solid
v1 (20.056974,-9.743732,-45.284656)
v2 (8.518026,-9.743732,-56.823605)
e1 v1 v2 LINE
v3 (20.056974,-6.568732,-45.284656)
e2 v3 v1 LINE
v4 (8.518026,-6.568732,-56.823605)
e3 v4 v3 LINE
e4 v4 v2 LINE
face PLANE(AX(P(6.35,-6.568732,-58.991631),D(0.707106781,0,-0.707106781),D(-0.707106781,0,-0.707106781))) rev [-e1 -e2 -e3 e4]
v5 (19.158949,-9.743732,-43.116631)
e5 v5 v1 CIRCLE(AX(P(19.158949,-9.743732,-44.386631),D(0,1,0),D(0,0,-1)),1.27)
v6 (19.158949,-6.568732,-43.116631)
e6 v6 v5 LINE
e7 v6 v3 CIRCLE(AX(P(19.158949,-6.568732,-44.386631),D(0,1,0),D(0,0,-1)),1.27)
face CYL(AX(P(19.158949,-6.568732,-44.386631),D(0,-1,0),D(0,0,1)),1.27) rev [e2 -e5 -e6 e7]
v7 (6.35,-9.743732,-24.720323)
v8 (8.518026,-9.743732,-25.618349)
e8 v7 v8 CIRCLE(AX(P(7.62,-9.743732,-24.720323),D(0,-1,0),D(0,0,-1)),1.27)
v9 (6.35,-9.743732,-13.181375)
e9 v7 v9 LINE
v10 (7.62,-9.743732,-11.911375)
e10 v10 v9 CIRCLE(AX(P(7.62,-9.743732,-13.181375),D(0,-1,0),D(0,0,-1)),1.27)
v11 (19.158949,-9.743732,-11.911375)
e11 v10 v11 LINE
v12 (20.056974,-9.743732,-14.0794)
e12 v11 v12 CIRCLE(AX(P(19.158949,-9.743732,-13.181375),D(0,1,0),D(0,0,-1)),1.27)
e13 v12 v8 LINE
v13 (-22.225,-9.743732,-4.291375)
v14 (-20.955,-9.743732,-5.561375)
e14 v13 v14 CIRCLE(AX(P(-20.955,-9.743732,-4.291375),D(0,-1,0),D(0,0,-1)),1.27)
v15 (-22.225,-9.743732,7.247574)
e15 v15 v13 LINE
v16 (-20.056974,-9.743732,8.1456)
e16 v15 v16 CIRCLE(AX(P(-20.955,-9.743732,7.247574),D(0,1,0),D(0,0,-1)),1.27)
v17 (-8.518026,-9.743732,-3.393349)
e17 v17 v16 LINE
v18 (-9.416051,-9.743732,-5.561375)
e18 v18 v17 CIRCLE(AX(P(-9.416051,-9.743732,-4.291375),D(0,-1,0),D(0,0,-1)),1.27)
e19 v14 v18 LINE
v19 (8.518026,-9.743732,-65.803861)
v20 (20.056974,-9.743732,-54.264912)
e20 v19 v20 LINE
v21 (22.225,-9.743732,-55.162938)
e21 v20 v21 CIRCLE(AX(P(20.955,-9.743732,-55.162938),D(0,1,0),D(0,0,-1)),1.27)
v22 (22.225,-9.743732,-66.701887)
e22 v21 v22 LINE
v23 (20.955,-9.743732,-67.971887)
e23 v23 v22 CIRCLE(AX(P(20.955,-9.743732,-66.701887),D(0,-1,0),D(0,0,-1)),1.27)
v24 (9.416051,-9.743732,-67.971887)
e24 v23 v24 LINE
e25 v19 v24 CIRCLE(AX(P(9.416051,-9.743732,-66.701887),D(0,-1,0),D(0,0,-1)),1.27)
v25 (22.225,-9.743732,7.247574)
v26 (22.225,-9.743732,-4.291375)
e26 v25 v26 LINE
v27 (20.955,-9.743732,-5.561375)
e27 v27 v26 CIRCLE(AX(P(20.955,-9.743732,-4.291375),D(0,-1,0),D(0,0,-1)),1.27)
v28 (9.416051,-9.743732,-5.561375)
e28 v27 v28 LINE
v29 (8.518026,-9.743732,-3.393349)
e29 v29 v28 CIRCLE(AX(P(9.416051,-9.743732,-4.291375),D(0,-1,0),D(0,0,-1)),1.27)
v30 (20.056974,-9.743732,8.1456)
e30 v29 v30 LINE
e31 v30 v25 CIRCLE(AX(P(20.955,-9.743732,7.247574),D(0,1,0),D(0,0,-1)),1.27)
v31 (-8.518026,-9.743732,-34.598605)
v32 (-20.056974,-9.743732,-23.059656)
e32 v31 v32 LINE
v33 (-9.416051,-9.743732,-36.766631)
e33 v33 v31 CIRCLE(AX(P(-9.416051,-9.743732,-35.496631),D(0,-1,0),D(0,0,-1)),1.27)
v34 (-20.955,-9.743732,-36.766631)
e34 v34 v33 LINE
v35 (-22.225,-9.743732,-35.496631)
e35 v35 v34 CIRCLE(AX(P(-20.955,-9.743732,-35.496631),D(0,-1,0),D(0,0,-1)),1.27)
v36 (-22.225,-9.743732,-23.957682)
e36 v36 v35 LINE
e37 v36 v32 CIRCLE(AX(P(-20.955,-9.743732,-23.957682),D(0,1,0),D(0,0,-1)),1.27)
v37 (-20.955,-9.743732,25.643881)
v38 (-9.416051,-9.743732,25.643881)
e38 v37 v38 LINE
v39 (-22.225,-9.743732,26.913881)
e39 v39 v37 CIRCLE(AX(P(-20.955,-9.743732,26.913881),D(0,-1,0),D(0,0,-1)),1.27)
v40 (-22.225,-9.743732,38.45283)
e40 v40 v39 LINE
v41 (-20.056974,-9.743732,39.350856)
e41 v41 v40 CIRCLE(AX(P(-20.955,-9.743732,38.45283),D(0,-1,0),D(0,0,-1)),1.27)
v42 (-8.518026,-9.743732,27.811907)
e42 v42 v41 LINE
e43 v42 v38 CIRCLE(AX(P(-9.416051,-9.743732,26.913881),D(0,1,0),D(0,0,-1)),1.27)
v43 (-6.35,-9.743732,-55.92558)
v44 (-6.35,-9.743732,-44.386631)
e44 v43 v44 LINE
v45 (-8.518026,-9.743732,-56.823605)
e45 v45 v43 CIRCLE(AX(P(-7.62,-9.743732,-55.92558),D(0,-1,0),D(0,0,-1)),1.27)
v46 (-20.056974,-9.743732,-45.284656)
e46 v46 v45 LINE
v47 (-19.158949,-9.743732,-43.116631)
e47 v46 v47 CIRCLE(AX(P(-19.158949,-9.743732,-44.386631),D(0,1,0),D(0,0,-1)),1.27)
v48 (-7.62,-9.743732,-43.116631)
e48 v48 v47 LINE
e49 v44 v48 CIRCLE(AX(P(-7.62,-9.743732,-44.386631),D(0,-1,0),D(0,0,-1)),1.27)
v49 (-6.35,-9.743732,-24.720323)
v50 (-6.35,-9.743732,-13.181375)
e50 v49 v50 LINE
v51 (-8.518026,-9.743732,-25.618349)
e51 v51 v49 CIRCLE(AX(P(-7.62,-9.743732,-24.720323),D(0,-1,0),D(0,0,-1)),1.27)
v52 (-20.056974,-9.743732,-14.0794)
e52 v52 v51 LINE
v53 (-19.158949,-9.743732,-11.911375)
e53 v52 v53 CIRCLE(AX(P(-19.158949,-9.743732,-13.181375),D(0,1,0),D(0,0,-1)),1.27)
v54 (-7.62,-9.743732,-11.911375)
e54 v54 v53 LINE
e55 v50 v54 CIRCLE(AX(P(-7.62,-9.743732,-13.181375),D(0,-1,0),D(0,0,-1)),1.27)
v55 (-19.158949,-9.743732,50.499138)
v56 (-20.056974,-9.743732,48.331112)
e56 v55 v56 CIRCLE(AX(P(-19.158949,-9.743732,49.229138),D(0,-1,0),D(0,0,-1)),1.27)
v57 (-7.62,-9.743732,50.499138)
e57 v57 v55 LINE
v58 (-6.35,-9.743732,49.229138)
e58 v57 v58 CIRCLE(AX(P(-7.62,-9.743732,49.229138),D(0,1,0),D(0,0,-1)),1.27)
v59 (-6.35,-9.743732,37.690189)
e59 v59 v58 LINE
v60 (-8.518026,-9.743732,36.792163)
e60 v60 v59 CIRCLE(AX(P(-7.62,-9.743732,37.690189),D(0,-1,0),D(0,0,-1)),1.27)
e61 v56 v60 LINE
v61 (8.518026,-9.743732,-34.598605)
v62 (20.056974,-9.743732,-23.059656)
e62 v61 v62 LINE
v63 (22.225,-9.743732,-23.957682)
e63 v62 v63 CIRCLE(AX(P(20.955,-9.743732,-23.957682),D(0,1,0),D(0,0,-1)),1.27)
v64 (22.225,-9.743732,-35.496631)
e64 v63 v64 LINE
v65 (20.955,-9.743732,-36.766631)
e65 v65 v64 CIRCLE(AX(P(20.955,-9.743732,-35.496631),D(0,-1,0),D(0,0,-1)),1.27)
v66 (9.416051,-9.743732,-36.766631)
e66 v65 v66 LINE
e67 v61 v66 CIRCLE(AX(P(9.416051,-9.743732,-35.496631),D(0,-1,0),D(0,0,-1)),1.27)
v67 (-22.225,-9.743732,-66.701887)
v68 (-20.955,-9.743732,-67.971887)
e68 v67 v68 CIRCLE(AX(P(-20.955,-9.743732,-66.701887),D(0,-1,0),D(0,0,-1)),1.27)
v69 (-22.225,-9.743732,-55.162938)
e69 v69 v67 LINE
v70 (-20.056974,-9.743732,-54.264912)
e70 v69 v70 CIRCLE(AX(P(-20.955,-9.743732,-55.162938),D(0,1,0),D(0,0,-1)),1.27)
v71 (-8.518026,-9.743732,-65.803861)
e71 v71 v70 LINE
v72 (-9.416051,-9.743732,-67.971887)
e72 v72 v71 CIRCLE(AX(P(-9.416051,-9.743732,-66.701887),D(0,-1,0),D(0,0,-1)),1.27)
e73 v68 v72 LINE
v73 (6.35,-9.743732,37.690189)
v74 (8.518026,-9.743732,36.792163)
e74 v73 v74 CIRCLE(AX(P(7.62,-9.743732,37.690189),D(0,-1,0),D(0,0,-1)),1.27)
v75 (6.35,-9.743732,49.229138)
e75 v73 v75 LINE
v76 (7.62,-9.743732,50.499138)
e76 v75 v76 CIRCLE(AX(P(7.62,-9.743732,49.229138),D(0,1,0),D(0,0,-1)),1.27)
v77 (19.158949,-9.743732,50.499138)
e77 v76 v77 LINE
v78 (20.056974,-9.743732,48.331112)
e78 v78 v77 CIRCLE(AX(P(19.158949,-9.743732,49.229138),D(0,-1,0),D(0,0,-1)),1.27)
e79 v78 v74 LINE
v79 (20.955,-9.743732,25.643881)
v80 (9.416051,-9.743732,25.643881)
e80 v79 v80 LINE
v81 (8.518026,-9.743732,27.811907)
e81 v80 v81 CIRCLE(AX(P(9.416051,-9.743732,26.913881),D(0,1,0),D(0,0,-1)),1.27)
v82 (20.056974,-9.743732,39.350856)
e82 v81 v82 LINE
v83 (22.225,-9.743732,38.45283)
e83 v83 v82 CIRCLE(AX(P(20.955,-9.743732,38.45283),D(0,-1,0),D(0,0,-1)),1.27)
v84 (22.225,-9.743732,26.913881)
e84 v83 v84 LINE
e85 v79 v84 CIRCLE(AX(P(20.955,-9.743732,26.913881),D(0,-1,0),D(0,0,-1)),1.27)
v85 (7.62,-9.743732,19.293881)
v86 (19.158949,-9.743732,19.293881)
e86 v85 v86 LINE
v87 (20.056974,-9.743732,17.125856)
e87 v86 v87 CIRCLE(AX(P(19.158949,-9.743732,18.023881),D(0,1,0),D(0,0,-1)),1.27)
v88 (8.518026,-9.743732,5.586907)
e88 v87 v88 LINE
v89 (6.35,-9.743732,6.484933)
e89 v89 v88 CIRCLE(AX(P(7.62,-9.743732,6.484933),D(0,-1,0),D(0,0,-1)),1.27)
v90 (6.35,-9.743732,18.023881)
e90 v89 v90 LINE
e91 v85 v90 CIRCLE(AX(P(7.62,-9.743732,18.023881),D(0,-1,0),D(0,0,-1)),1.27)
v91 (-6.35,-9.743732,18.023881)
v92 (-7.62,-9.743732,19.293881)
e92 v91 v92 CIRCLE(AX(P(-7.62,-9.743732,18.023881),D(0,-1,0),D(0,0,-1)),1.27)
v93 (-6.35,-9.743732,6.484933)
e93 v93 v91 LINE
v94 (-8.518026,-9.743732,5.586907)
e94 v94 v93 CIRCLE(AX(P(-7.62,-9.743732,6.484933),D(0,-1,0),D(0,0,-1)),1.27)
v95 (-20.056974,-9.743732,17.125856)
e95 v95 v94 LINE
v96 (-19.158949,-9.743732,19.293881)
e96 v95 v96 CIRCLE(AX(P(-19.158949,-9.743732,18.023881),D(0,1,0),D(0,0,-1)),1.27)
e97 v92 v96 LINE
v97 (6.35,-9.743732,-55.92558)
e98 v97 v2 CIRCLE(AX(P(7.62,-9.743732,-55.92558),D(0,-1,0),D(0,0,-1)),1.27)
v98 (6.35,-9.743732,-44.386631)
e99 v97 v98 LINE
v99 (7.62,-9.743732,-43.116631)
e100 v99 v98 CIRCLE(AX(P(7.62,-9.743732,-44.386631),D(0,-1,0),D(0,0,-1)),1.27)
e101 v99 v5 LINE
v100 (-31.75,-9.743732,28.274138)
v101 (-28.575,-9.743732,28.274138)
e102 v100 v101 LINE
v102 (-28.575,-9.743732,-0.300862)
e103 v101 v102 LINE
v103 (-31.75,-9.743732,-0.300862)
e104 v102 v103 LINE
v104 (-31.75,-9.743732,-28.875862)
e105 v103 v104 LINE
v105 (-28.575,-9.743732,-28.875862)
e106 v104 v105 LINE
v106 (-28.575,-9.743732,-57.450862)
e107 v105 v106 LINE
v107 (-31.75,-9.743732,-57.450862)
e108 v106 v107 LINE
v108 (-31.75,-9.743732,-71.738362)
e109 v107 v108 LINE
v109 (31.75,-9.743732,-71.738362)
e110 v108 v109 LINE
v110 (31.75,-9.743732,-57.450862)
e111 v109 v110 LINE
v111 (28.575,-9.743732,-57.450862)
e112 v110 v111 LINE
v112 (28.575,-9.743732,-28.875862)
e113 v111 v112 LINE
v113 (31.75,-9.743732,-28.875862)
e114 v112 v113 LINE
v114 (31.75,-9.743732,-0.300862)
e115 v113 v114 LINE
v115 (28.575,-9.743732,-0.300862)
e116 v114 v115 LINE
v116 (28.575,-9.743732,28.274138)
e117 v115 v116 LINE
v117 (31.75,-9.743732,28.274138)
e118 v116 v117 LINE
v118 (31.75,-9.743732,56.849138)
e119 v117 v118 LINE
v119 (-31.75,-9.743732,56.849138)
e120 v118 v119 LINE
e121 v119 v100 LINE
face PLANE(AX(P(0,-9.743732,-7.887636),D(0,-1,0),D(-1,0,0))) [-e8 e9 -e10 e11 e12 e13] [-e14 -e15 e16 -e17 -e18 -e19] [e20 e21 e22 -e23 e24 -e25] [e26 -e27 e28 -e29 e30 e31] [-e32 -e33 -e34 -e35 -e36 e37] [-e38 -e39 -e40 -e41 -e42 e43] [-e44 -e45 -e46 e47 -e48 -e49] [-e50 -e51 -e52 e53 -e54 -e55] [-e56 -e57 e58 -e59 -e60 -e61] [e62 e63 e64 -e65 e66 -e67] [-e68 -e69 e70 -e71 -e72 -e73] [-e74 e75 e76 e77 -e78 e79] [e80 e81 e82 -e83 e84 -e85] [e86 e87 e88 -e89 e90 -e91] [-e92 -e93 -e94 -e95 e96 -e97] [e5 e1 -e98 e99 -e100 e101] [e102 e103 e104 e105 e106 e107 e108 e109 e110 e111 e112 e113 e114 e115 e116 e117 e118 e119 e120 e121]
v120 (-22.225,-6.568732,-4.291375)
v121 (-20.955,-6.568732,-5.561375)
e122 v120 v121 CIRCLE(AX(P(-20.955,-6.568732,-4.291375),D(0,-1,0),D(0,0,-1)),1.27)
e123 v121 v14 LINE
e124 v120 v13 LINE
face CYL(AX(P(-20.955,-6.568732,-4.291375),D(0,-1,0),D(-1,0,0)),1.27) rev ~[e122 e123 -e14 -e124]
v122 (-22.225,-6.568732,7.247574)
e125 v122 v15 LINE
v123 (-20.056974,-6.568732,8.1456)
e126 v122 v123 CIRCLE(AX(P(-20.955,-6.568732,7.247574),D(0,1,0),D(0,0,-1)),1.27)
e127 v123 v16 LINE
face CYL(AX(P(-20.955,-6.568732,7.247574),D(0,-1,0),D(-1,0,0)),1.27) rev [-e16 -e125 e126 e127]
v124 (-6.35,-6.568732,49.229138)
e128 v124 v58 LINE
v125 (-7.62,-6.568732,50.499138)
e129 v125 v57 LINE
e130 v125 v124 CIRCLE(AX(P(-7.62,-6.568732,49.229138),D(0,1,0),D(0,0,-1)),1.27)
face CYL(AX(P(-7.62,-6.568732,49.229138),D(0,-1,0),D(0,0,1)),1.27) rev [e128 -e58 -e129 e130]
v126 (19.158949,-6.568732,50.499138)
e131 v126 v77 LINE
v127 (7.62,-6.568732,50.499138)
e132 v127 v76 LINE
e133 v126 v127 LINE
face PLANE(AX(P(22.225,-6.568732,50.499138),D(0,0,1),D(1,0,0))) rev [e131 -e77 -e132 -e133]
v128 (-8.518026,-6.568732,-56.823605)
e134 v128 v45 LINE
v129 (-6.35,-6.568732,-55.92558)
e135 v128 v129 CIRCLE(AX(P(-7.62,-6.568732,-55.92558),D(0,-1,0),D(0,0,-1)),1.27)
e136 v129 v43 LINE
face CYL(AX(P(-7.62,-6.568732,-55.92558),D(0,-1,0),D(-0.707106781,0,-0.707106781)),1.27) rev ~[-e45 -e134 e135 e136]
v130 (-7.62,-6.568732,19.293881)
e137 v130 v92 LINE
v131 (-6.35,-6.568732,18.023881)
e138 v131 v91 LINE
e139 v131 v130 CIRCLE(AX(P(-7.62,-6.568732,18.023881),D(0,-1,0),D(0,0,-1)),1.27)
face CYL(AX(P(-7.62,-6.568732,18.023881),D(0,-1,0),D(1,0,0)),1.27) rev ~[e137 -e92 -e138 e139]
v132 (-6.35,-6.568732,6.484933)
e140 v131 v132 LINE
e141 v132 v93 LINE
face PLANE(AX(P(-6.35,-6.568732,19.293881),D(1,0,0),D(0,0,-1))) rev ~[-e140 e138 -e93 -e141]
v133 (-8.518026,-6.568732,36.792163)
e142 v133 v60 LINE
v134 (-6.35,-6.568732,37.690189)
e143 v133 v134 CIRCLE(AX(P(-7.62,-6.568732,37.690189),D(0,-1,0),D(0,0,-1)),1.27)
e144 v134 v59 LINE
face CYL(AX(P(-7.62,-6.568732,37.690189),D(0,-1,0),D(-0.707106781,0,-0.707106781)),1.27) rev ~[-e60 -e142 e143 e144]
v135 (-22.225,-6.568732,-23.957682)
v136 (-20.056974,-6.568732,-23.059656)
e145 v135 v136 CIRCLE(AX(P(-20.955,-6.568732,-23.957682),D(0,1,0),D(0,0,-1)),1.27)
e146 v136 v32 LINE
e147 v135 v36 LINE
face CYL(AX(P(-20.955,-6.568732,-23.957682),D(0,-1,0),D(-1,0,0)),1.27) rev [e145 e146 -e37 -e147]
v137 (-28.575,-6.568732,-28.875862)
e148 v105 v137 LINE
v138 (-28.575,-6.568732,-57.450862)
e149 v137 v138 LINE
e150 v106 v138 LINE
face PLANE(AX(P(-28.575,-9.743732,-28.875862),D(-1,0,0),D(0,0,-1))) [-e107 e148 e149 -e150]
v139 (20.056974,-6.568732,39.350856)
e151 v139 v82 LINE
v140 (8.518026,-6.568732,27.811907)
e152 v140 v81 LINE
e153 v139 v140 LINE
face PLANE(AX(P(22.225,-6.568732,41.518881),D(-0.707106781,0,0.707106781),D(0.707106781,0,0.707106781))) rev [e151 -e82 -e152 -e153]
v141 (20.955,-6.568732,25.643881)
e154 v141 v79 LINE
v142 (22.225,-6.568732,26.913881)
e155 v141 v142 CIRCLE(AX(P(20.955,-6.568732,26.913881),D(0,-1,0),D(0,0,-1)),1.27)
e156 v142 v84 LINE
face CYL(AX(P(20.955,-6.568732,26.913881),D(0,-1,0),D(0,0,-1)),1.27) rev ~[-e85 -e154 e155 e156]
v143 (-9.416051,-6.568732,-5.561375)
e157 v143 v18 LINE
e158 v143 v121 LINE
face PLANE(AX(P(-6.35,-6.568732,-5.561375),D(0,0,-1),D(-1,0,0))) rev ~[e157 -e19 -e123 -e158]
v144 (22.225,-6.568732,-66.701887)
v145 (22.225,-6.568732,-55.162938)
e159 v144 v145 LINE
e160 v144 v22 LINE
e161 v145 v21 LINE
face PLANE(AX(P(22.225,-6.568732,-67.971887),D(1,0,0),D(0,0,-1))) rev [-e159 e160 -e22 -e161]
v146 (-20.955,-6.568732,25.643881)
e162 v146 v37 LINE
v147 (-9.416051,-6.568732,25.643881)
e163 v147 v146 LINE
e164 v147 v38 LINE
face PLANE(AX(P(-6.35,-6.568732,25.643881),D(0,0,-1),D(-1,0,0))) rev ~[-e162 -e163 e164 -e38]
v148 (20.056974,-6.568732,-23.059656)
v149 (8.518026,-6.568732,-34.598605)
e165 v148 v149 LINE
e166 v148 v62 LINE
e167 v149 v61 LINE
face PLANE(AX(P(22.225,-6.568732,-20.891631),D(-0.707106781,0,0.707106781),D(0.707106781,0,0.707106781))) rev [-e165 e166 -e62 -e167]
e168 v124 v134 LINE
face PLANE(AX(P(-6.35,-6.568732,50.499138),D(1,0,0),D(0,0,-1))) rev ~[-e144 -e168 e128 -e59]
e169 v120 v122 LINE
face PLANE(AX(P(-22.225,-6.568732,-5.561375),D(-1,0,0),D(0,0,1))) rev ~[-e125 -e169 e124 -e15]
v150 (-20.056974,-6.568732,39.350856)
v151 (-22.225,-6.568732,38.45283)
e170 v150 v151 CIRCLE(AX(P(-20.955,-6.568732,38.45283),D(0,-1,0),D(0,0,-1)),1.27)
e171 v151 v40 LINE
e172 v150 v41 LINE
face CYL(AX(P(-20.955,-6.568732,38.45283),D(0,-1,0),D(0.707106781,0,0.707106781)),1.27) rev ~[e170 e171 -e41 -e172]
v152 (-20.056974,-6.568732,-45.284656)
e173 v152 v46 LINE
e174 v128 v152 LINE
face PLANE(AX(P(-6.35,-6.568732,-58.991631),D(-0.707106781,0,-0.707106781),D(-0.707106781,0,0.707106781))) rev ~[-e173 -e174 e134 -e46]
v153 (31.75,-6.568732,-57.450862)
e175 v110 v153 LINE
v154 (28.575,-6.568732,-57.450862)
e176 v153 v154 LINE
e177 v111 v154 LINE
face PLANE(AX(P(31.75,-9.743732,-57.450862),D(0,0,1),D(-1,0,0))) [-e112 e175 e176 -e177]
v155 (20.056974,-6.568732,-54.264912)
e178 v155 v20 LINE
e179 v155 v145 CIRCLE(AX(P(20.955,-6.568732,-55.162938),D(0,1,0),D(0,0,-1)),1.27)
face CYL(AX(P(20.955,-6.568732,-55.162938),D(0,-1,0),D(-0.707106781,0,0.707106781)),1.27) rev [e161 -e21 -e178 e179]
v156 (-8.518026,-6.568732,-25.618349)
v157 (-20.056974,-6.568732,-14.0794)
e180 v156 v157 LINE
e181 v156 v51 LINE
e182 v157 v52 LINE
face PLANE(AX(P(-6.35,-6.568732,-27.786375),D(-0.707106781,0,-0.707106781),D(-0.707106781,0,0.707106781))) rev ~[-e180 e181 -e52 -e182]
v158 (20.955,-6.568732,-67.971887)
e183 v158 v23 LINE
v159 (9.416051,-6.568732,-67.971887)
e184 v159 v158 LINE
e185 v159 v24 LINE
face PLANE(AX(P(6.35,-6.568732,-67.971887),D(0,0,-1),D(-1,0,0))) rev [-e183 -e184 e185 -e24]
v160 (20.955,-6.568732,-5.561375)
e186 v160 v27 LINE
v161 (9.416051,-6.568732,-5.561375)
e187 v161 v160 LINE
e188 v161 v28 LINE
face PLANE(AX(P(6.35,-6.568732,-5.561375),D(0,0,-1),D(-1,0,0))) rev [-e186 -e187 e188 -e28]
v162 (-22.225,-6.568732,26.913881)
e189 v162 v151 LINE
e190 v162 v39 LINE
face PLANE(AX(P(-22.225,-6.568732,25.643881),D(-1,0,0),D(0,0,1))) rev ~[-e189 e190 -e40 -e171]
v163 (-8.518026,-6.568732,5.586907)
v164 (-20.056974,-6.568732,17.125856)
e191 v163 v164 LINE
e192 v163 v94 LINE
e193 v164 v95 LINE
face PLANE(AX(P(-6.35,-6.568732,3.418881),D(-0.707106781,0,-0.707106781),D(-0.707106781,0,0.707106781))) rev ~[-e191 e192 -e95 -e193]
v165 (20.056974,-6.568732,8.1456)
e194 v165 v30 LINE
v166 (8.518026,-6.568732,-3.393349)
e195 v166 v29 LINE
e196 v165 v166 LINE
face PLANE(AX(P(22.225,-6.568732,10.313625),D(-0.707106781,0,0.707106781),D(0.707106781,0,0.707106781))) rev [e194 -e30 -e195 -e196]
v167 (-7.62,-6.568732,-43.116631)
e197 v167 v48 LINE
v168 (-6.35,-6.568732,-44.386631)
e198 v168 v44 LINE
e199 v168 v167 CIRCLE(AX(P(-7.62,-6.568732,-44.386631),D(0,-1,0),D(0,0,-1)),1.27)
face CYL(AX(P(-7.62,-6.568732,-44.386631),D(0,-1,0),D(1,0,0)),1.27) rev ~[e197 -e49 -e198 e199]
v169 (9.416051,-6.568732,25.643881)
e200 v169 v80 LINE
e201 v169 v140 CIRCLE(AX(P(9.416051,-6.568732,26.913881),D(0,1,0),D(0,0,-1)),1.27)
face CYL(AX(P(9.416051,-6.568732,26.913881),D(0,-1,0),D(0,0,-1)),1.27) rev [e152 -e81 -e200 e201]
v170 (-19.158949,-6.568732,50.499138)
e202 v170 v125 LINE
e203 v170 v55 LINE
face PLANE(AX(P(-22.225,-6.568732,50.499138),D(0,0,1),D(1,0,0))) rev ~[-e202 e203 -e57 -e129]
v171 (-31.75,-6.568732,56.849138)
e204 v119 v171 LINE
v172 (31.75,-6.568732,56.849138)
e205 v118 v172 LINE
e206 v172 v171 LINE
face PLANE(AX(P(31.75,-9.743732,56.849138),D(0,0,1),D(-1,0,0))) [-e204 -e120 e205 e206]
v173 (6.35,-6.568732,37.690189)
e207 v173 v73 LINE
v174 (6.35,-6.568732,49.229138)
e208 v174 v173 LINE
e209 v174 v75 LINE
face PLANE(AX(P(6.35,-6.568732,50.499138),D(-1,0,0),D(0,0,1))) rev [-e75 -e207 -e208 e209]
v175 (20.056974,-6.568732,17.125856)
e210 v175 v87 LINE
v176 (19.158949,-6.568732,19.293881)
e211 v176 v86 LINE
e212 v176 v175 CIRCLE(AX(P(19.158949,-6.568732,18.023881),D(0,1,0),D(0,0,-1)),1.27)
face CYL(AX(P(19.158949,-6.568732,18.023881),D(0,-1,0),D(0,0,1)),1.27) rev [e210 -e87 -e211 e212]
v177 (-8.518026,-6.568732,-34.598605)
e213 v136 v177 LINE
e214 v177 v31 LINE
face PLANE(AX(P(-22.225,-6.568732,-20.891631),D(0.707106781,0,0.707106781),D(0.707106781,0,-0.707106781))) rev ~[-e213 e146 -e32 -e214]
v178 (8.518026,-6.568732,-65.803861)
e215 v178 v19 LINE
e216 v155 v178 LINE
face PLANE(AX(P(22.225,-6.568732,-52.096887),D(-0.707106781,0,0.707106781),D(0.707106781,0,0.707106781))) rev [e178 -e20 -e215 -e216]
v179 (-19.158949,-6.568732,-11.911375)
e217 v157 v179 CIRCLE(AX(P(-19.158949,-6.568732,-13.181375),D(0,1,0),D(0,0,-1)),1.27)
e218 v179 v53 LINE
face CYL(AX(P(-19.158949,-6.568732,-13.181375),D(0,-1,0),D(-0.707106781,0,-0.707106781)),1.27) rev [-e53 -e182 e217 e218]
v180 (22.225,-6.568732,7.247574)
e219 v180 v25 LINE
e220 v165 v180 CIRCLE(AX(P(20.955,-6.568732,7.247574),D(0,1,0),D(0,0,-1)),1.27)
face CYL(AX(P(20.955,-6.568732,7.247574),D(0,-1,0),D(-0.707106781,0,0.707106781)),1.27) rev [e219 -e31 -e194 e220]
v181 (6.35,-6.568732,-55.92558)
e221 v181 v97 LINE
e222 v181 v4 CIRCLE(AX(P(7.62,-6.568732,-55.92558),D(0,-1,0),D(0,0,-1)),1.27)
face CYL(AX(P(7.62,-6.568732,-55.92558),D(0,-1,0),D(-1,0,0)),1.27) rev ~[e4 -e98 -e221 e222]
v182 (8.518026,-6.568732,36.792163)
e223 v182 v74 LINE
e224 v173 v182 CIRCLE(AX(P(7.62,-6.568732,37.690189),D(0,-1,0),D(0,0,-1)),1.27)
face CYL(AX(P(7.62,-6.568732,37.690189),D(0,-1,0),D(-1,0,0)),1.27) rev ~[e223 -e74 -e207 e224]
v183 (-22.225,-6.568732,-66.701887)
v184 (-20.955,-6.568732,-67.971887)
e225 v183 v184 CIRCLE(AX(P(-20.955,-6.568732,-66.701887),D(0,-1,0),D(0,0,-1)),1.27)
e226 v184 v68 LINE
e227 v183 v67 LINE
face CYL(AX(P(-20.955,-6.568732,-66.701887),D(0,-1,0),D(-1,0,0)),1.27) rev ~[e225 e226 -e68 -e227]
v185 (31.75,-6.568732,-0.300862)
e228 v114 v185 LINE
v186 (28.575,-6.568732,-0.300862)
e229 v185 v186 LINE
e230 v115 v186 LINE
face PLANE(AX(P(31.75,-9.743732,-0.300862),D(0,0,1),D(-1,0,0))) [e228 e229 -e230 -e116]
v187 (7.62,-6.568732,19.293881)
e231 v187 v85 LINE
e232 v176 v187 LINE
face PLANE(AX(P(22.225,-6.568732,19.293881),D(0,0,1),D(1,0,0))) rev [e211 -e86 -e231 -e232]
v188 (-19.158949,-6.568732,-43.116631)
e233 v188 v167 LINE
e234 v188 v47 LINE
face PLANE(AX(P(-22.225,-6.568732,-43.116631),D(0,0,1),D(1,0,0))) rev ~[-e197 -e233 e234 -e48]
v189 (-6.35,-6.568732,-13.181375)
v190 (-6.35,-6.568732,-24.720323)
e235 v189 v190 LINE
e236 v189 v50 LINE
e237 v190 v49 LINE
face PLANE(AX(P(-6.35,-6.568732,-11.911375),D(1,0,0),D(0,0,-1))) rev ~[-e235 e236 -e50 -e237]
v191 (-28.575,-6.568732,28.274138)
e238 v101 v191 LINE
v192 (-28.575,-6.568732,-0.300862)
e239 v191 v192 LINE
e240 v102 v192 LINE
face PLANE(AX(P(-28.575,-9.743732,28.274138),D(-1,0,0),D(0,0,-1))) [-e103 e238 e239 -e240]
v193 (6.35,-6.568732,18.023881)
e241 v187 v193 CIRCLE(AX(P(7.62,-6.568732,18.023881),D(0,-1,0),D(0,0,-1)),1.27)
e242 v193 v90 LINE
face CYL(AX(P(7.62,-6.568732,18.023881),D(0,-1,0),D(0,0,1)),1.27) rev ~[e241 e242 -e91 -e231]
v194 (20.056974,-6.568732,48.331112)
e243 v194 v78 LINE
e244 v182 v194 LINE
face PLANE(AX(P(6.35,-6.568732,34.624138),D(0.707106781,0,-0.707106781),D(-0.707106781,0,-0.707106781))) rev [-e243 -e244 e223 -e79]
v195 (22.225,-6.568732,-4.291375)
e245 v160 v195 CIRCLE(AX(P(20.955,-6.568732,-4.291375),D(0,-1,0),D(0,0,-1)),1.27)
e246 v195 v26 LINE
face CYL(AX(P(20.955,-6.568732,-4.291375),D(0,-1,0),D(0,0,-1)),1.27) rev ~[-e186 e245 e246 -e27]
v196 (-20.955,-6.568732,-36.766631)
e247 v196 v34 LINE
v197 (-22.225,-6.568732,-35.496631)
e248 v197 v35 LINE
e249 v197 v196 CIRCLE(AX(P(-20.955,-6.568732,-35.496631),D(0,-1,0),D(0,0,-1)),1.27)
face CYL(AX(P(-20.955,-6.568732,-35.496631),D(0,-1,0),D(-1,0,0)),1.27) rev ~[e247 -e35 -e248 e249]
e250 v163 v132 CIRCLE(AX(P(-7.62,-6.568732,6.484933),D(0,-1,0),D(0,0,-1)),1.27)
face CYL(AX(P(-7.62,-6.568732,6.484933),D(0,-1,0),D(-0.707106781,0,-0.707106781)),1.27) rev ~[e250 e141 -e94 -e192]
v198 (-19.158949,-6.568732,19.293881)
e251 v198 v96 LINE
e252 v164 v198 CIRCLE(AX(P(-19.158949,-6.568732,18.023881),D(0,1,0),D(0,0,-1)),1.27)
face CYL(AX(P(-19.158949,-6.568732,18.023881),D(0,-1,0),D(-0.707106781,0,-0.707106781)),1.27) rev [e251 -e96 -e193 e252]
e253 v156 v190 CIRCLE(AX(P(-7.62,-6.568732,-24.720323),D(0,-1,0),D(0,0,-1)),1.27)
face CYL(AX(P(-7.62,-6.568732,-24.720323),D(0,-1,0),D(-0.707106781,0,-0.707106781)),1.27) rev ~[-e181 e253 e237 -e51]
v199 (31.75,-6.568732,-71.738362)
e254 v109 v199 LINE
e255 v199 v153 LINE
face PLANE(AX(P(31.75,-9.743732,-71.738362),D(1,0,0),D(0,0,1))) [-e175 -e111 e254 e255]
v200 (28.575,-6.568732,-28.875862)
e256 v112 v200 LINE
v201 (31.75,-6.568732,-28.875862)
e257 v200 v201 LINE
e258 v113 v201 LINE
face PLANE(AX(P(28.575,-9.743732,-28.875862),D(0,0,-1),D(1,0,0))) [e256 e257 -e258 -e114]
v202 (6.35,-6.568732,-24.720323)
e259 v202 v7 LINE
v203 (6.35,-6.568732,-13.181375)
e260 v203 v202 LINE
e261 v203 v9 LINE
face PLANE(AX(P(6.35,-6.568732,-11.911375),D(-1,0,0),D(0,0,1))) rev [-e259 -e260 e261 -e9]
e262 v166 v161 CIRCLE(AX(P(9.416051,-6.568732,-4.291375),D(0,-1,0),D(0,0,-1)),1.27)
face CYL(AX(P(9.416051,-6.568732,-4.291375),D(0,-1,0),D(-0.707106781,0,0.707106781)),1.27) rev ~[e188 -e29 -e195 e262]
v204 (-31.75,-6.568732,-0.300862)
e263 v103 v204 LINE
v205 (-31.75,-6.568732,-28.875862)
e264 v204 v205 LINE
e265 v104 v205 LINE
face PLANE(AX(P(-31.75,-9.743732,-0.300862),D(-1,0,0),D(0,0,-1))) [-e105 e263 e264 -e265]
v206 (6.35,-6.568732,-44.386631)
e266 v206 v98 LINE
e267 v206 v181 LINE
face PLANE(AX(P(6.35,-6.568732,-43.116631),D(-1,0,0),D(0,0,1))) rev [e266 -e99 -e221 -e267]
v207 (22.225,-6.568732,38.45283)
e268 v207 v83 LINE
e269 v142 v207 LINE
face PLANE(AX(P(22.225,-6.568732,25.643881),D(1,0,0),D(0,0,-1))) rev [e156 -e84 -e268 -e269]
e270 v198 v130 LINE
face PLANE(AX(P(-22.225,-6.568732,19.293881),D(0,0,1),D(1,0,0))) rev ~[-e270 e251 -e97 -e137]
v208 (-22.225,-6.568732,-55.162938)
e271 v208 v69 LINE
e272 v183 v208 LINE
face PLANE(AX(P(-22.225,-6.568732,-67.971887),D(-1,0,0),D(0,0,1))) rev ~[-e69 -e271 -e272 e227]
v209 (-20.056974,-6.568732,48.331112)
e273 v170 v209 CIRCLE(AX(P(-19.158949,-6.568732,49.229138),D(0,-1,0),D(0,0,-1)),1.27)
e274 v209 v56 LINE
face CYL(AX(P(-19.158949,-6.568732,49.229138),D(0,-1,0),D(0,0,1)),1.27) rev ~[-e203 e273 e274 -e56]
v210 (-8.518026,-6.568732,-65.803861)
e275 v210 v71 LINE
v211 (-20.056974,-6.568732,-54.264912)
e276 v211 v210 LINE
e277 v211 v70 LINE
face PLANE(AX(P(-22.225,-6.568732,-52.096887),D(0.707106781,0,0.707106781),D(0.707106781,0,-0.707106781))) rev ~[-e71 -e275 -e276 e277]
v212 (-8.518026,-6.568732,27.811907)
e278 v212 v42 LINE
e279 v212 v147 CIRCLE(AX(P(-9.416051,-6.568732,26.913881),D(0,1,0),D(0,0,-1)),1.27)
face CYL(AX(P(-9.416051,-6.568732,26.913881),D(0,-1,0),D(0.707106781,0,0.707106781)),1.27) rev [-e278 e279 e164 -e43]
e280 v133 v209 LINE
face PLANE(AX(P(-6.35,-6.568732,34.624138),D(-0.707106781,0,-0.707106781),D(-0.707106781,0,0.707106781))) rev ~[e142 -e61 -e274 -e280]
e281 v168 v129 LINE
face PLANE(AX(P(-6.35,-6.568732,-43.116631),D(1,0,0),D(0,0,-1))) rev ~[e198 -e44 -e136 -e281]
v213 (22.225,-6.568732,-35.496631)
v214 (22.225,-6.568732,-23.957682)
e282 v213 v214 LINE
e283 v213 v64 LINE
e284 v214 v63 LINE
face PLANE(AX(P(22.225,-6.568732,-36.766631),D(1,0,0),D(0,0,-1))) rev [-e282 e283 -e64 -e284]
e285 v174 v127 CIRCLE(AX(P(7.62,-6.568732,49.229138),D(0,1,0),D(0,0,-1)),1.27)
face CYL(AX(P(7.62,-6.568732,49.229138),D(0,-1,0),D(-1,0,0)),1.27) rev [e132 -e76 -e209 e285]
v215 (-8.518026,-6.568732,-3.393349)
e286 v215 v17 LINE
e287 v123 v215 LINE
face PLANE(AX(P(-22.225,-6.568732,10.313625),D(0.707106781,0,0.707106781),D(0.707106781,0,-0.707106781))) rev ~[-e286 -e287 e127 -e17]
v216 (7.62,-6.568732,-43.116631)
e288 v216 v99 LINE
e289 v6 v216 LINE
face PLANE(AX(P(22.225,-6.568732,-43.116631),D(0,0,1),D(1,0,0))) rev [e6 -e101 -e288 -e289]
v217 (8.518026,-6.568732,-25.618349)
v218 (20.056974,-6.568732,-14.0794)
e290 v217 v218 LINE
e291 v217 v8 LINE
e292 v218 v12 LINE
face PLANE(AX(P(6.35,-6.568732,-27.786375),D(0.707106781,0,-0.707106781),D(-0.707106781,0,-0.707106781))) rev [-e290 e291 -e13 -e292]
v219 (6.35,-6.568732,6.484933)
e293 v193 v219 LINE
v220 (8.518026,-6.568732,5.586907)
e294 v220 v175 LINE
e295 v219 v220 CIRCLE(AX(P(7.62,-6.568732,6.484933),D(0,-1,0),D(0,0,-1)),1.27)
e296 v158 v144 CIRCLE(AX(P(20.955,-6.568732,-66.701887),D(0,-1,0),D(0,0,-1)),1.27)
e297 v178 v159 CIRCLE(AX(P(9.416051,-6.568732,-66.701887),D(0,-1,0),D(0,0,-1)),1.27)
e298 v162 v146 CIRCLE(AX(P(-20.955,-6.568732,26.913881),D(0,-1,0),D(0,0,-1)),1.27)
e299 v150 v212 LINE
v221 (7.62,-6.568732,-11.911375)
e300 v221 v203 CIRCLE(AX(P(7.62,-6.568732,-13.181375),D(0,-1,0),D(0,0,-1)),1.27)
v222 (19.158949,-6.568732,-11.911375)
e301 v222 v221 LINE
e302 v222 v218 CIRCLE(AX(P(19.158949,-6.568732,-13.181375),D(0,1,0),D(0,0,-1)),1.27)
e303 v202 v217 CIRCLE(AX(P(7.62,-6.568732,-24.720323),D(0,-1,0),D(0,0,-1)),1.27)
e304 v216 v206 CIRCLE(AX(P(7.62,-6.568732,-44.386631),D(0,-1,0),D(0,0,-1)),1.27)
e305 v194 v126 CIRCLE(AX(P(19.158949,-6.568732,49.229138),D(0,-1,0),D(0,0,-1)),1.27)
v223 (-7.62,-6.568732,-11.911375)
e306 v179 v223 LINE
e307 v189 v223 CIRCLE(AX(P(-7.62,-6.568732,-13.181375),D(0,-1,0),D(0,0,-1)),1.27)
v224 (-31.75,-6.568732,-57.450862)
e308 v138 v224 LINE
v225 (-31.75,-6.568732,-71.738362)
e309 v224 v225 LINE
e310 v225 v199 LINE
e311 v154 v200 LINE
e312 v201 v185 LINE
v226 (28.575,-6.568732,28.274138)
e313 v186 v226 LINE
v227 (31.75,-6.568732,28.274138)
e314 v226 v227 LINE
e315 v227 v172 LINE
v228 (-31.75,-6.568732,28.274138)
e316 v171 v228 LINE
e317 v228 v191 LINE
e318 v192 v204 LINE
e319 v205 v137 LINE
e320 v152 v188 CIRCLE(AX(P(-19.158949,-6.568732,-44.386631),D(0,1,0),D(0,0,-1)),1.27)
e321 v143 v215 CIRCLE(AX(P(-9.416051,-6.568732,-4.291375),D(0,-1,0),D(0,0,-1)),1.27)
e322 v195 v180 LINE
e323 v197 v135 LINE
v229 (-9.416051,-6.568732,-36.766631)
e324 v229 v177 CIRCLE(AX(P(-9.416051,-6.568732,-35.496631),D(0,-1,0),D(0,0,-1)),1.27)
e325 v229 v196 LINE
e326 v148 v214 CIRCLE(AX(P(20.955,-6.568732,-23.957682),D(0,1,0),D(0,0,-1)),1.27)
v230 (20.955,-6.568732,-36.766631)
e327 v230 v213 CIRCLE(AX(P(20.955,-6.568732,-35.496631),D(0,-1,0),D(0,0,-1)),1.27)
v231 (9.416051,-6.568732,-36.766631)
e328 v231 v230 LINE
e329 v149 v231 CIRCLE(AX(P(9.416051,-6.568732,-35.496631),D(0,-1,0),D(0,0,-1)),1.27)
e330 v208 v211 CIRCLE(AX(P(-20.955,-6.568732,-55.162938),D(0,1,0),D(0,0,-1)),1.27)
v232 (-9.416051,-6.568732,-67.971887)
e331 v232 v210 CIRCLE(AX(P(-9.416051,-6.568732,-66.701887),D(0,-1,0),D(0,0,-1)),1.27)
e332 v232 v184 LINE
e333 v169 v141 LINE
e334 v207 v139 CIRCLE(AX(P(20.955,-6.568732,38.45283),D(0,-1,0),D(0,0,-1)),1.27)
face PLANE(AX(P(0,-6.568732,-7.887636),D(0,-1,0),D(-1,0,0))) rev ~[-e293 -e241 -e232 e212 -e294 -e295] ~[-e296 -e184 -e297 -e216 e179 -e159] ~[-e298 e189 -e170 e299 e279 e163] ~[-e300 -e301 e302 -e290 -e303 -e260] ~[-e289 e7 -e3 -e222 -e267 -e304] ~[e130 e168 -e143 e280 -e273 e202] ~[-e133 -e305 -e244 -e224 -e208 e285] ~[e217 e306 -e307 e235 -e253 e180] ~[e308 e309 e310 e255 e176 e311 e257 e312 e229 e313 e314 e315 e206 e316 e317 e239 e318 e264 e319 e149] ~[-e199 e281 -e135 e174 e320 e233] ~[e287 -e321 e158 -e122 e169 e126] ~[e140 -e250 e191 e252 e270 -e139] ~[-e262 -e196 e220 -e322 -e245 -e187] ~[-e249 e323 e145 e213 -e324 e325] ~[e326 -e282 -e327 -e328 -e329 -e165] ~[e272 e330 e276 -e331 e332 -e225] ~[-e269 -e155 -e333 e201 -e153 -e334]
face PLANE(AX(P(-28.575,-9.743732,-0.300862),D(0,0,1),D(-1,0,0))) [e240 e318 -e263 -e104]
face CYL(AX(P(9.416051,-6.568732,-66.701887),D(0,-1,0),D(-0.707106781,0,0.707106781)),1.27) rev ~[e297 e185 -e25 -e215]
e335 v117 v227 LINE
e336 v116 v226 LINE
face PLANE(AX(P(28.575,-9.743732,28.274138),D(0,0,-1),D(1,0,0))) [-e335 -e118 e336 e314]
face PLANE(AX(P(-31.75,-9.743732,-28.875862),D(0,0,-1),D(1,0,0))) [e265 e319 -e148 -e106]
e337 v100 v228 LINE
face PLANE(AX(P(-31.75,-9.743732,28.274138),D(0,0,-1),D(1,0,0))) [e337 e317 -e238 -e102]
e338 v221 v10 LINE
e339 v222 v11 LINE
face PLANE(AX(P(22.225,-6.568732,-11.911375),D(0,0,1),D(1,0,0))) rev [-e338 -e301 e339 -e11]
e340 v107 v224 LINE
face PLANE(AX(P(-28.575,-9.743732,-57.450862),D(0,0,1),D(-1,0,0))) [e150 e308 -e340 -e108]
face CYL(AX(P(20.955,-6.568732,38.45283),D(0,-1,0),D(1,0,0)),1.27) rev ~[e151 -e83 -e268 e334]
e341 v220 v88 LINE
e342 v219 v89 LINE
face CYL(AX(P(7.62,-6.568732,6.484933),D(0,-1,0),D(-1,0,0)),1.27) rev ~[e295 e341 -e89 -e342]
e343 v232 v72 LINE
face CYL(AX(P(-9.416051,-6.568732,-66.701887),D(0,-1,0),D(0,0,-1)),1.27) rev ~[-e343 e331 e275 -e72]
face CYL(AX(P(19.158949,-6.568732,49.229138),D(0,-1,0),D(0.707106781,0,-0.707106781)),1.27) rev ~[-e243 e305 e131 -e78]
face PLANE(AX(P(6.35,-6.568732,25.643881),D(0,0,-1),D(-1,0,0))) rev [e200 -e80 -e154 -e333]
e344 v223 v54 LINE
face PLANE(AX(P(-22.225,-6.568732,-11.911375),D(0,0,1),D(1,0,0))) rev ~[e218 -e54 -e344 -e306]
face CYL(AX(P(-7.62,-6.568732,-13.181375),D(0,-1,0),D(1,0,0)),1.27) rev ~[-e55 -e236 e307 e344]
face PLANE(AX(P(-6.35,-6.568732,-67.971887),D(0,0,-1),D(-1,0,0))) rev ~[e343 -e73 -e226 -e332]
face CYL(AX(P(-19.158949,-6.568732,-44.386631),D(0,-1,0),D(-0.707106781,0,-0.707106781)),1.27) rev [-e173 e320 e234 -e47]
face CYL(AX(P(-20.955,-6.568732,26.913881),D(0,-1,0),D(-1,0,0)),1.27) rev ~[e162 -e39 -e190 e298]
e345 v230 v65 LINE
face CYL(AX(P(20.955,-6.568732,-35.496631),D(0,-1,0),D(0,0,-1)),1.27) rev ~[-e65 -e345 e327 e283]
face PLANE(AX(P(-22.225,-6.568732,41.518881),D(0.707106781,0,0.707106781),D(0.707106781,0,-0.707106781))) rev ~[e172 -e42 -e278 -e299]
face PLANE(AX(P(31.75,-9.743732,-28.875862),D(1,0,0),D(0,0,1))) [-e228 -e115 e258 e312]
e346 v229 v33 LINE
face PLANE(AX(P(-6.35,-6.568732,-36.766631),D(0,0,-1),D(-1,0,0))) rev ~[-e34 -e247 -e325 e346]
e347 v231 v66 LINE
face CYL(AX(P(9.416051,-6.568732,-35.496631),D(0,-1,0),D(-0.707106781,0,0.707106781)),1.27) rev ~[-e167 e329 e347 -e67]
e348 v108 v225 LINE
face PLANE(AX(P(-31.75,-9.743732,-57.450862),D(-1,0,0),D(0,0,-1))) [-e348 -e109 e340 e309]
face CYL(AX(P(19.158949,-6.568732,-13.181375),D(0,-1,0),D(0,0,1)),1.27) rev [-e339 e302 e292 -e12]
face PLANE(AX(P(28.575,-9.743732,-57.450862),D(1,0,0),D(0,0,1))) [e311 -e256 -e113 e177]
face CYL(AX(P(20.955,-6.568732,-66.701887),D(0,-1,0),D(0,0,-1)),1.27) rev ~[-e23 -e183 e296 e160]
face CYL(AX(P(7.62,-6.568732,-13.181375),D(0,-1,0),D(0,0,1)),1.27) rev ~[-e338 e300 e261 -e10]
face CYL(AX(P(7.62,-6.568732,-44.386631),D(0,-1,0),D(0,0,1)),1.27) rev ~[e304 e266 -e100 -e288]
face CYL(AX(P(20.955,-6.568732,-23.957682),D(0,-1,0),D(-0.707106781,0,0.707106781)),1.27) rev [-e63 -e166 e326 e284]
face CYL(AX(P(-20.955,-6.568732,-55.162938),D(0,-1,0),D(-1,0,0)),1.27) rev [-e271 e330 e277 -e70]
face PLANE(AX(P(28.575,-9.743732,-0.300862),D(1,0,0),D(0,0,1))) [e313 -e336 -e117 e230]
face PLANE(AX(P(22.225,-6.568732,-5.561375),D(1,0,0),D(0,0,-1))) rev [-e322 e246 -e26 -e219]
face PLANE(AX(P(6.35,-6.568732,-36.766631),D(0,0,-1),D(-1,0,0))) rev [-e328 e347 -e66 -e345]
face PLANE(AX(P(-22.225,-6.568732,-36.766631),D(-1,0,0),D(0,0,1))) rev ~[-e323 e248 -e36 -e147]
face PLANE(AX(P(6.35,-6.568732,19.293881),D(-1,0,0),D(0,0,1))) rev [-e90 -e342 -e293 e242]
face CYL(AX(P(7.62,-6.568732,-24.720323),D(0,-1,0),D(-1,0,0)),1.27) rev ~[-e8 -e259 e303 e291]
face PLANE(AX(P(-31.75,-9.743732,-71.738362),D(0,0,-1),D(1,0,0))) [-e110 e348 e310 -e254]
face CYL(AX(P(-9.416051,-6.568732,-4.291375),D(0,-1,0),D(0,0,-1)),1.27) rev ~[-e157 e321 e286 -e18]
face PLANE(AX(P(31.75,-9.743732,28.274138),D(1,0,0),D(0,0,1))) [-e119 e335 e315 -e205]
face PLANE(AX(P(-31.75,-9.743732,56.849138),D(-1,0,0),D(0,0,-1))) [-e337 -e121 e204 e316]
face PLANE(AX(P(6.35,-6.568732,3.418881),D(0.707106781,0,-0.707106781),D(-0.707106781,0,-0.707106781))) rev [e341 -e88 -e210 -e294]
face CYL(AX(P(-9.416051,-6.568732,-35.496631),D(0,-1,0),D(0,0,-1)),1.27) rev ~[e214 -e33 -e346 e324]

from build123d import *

# Parameters (mm, degrees)
BOSS_EXTRUDE1_DEPTH  = 3.175
CUT_EXTRUDE1_DEPTH   = 4.175
FILLET1_R            = 1.27
FILLET1_OF_MIRROR1_R = 1.27


with BuildPart() as part:
    # Sketch1 → Boss-Extrude1 (new body)
    with BuildSketch(Plane(origin=(0, -9.743731804, 0), x_dir=(1, 0, 0), z_dir=(0, 1, 0))):
        Polygon((28.575, 57.450862399), (28.575, 28.875862399), (31.75, 28.875862399), (31.75, 0.300862399), (28.575, 0.300862399), (28.575, -28.274137601), (31.75, -28.274137601), (31.75, -56.849137601), (-31.75, -56.849137601), (-31.75, -28.274137601), (-28.575, -28.274137601), (-28.575, 0.300862399), (-31.75, 0.300862399), (-31.75, 28.875862399), (-28.575, 28.875862399), (-28.575, 57.450862399), (-31.75, 57.450862399), (-31.75, 71.738362399), (31.75, 71.738362399), (31.75, 57.450862399), align=None)
    extrude(amount=BOSS_EXTRUDE1_DEPTH)

    # Sketch2 → Cut-Extrude1 (cut, through all)
    with BuildSketch(Plane(origin=(0, -6.568731804, 0), x_dir=(1, 0, 0), z_dir=(0, 1, 0))):
        Polygon((-22.225, -50.499137601), (-6.35, -50.499137601), (-6.35, -34.624137601), align=None)
        Polygon((-22.225, -41.51888148), (-6.35, -25.64388148), (-22.225, -25.64388148), align=None)
        Polygon((-6.35, -3.41888148), (-22.225, -19.29388148), (-6.35, -19.29388148), align=None)
        Polygon((-22.225, 5.561374641), (-22.225, -10.313625359), (-6.35, 5.561374641), align=None)
        Polygon((-6.35, 27.786374641), (-22.225, 11.911374641), (-6.35, 11.911374641), align=None)
        Polygon((-22.225, 36.766630762), (-22.225, 20.891630762), (-6.35, 36.766630762), align=None)
        Polygon((-6.35, 58.991630762), (-22.225, 43.116630762), (-6.35, 43.116630762), align=None)
        Polygon((-22.225, 67.971886883), (-22.225, 52.096886883), (-6.35, 67.971886883), align=None)
    cut_extrude1 = extrude(amount=-CUT_EXTRUDE1_DEPTH, mode=Mode.SUBTRACT)

    # Fillet1
    fillet1_edges = [part.edges().sort_by_distance(p)[0] for p in [
        (-22.225, -8.156231804, 41.51888148),
        (-22.225, -8.156231804, 25.64388148),
        (-6.35, -8.156231804, 25.64388148),
        (-6.35, -8.156231804, -67.971886883),
        (-22.225, -8.156231804, -52.096886883),
        (-22.225, -8.156231804, -67.971886883),
        (-6.35, -8.156231804, -43.116630762),
        (-22.225, -8.156231804, -43.116630762),
        (-6.35, -8.156231804, -58.991630762),
        (-6.35, -8.156231804, -36.766630762),
        (-22.225, -8.156231804, -20.891630762),
        (-22.225, -8.156231804, -36.766630762),
        (-22.225, -8.156231804, 50.499137601),
        (-6.35, -8.156231804, 34.624137601),
        (-6.35, -8.156231804, 50.499137601),
        (-6.35, -8.156231804, -11.911374641),
        (-22.225, -8.156231804, -11.911374641),
        (-6.35, -8.156231804, -27.786374641),
        (-6.35, -8.156231804, -5.561374641),
        (-22.225, -8.156231804, 10.313625359),
        (-22.225, -8.156231804, -5.561374641),
        (-6.35, -8.156231804, 19.29388148),
        (-22.225, -8.156231804, 19.29388148),
        (-6.35, -8.156231804, 3.41888148),
    ]]
    fillet(fillet1_edges, radius=FILLET1_R)

    # Mirror1: Cut-Extrude1 across plane
    add(cut_extrude1.mirror(Plane(origin=(0, 0, 0), x_dir=(0, 0, 1), z_dir=(1, 0, 0))), mode=Mode.SUBTRACT)

    # Fillet1 of Mirror1
    fillet1_of_mirror1_edges = [part.edges().sort_by_distance(p)[0] for p in [
        (22.225, -8.156231804, 41.51888148),
        (22.225, -8.156231804, 25.64388148),
        (6.35, -8.156231804, 25.64388148),
        (6.35, -8.156231804, -67.971886883),
        (22.225, -8.156231804, -52.096886883),
        (22.225, -8.156231804, -67.971886883),
        (6.35, -8.156231804, -43.116630762),
        (22.225, -8.156231804, -43.116630762),
        (6.35, -8.156231804, -58.991630762),
        (6.35, -8.156231804, -36.766630762),
        (22.225, -8.156231804, -20.891630762),
        (22.225, -8.156231804, -36.766630762),
        (22.225, -8.156231804, 50.499137601),
        (6.35, -8.156231804, 34.624137601),
        (6.35, -8.156231804, 50.499137601),
        (6.35, -8.156231804, -11.911374641),
        (22.225, -8.156231804, -11.911374641),
        (6.35, -8.156231804, -27.786374641),
        (6.35, -8.156231804, -5.561374641),
        (22.225, -8.156231804, 10.313625359),
        (22.225, -8.156231804, -5.561374641),
        (6.35, -8.156231804, 19.29388148),
        (22.225, -8.156231804, 19.29388148),
        (6.35, -8.156231804, 3.41888148),
    ]]
    fillet(fillet1_of_mirror1_edges, radius=FILLET1_OF_MIRROR1_R)


solid = part.part
